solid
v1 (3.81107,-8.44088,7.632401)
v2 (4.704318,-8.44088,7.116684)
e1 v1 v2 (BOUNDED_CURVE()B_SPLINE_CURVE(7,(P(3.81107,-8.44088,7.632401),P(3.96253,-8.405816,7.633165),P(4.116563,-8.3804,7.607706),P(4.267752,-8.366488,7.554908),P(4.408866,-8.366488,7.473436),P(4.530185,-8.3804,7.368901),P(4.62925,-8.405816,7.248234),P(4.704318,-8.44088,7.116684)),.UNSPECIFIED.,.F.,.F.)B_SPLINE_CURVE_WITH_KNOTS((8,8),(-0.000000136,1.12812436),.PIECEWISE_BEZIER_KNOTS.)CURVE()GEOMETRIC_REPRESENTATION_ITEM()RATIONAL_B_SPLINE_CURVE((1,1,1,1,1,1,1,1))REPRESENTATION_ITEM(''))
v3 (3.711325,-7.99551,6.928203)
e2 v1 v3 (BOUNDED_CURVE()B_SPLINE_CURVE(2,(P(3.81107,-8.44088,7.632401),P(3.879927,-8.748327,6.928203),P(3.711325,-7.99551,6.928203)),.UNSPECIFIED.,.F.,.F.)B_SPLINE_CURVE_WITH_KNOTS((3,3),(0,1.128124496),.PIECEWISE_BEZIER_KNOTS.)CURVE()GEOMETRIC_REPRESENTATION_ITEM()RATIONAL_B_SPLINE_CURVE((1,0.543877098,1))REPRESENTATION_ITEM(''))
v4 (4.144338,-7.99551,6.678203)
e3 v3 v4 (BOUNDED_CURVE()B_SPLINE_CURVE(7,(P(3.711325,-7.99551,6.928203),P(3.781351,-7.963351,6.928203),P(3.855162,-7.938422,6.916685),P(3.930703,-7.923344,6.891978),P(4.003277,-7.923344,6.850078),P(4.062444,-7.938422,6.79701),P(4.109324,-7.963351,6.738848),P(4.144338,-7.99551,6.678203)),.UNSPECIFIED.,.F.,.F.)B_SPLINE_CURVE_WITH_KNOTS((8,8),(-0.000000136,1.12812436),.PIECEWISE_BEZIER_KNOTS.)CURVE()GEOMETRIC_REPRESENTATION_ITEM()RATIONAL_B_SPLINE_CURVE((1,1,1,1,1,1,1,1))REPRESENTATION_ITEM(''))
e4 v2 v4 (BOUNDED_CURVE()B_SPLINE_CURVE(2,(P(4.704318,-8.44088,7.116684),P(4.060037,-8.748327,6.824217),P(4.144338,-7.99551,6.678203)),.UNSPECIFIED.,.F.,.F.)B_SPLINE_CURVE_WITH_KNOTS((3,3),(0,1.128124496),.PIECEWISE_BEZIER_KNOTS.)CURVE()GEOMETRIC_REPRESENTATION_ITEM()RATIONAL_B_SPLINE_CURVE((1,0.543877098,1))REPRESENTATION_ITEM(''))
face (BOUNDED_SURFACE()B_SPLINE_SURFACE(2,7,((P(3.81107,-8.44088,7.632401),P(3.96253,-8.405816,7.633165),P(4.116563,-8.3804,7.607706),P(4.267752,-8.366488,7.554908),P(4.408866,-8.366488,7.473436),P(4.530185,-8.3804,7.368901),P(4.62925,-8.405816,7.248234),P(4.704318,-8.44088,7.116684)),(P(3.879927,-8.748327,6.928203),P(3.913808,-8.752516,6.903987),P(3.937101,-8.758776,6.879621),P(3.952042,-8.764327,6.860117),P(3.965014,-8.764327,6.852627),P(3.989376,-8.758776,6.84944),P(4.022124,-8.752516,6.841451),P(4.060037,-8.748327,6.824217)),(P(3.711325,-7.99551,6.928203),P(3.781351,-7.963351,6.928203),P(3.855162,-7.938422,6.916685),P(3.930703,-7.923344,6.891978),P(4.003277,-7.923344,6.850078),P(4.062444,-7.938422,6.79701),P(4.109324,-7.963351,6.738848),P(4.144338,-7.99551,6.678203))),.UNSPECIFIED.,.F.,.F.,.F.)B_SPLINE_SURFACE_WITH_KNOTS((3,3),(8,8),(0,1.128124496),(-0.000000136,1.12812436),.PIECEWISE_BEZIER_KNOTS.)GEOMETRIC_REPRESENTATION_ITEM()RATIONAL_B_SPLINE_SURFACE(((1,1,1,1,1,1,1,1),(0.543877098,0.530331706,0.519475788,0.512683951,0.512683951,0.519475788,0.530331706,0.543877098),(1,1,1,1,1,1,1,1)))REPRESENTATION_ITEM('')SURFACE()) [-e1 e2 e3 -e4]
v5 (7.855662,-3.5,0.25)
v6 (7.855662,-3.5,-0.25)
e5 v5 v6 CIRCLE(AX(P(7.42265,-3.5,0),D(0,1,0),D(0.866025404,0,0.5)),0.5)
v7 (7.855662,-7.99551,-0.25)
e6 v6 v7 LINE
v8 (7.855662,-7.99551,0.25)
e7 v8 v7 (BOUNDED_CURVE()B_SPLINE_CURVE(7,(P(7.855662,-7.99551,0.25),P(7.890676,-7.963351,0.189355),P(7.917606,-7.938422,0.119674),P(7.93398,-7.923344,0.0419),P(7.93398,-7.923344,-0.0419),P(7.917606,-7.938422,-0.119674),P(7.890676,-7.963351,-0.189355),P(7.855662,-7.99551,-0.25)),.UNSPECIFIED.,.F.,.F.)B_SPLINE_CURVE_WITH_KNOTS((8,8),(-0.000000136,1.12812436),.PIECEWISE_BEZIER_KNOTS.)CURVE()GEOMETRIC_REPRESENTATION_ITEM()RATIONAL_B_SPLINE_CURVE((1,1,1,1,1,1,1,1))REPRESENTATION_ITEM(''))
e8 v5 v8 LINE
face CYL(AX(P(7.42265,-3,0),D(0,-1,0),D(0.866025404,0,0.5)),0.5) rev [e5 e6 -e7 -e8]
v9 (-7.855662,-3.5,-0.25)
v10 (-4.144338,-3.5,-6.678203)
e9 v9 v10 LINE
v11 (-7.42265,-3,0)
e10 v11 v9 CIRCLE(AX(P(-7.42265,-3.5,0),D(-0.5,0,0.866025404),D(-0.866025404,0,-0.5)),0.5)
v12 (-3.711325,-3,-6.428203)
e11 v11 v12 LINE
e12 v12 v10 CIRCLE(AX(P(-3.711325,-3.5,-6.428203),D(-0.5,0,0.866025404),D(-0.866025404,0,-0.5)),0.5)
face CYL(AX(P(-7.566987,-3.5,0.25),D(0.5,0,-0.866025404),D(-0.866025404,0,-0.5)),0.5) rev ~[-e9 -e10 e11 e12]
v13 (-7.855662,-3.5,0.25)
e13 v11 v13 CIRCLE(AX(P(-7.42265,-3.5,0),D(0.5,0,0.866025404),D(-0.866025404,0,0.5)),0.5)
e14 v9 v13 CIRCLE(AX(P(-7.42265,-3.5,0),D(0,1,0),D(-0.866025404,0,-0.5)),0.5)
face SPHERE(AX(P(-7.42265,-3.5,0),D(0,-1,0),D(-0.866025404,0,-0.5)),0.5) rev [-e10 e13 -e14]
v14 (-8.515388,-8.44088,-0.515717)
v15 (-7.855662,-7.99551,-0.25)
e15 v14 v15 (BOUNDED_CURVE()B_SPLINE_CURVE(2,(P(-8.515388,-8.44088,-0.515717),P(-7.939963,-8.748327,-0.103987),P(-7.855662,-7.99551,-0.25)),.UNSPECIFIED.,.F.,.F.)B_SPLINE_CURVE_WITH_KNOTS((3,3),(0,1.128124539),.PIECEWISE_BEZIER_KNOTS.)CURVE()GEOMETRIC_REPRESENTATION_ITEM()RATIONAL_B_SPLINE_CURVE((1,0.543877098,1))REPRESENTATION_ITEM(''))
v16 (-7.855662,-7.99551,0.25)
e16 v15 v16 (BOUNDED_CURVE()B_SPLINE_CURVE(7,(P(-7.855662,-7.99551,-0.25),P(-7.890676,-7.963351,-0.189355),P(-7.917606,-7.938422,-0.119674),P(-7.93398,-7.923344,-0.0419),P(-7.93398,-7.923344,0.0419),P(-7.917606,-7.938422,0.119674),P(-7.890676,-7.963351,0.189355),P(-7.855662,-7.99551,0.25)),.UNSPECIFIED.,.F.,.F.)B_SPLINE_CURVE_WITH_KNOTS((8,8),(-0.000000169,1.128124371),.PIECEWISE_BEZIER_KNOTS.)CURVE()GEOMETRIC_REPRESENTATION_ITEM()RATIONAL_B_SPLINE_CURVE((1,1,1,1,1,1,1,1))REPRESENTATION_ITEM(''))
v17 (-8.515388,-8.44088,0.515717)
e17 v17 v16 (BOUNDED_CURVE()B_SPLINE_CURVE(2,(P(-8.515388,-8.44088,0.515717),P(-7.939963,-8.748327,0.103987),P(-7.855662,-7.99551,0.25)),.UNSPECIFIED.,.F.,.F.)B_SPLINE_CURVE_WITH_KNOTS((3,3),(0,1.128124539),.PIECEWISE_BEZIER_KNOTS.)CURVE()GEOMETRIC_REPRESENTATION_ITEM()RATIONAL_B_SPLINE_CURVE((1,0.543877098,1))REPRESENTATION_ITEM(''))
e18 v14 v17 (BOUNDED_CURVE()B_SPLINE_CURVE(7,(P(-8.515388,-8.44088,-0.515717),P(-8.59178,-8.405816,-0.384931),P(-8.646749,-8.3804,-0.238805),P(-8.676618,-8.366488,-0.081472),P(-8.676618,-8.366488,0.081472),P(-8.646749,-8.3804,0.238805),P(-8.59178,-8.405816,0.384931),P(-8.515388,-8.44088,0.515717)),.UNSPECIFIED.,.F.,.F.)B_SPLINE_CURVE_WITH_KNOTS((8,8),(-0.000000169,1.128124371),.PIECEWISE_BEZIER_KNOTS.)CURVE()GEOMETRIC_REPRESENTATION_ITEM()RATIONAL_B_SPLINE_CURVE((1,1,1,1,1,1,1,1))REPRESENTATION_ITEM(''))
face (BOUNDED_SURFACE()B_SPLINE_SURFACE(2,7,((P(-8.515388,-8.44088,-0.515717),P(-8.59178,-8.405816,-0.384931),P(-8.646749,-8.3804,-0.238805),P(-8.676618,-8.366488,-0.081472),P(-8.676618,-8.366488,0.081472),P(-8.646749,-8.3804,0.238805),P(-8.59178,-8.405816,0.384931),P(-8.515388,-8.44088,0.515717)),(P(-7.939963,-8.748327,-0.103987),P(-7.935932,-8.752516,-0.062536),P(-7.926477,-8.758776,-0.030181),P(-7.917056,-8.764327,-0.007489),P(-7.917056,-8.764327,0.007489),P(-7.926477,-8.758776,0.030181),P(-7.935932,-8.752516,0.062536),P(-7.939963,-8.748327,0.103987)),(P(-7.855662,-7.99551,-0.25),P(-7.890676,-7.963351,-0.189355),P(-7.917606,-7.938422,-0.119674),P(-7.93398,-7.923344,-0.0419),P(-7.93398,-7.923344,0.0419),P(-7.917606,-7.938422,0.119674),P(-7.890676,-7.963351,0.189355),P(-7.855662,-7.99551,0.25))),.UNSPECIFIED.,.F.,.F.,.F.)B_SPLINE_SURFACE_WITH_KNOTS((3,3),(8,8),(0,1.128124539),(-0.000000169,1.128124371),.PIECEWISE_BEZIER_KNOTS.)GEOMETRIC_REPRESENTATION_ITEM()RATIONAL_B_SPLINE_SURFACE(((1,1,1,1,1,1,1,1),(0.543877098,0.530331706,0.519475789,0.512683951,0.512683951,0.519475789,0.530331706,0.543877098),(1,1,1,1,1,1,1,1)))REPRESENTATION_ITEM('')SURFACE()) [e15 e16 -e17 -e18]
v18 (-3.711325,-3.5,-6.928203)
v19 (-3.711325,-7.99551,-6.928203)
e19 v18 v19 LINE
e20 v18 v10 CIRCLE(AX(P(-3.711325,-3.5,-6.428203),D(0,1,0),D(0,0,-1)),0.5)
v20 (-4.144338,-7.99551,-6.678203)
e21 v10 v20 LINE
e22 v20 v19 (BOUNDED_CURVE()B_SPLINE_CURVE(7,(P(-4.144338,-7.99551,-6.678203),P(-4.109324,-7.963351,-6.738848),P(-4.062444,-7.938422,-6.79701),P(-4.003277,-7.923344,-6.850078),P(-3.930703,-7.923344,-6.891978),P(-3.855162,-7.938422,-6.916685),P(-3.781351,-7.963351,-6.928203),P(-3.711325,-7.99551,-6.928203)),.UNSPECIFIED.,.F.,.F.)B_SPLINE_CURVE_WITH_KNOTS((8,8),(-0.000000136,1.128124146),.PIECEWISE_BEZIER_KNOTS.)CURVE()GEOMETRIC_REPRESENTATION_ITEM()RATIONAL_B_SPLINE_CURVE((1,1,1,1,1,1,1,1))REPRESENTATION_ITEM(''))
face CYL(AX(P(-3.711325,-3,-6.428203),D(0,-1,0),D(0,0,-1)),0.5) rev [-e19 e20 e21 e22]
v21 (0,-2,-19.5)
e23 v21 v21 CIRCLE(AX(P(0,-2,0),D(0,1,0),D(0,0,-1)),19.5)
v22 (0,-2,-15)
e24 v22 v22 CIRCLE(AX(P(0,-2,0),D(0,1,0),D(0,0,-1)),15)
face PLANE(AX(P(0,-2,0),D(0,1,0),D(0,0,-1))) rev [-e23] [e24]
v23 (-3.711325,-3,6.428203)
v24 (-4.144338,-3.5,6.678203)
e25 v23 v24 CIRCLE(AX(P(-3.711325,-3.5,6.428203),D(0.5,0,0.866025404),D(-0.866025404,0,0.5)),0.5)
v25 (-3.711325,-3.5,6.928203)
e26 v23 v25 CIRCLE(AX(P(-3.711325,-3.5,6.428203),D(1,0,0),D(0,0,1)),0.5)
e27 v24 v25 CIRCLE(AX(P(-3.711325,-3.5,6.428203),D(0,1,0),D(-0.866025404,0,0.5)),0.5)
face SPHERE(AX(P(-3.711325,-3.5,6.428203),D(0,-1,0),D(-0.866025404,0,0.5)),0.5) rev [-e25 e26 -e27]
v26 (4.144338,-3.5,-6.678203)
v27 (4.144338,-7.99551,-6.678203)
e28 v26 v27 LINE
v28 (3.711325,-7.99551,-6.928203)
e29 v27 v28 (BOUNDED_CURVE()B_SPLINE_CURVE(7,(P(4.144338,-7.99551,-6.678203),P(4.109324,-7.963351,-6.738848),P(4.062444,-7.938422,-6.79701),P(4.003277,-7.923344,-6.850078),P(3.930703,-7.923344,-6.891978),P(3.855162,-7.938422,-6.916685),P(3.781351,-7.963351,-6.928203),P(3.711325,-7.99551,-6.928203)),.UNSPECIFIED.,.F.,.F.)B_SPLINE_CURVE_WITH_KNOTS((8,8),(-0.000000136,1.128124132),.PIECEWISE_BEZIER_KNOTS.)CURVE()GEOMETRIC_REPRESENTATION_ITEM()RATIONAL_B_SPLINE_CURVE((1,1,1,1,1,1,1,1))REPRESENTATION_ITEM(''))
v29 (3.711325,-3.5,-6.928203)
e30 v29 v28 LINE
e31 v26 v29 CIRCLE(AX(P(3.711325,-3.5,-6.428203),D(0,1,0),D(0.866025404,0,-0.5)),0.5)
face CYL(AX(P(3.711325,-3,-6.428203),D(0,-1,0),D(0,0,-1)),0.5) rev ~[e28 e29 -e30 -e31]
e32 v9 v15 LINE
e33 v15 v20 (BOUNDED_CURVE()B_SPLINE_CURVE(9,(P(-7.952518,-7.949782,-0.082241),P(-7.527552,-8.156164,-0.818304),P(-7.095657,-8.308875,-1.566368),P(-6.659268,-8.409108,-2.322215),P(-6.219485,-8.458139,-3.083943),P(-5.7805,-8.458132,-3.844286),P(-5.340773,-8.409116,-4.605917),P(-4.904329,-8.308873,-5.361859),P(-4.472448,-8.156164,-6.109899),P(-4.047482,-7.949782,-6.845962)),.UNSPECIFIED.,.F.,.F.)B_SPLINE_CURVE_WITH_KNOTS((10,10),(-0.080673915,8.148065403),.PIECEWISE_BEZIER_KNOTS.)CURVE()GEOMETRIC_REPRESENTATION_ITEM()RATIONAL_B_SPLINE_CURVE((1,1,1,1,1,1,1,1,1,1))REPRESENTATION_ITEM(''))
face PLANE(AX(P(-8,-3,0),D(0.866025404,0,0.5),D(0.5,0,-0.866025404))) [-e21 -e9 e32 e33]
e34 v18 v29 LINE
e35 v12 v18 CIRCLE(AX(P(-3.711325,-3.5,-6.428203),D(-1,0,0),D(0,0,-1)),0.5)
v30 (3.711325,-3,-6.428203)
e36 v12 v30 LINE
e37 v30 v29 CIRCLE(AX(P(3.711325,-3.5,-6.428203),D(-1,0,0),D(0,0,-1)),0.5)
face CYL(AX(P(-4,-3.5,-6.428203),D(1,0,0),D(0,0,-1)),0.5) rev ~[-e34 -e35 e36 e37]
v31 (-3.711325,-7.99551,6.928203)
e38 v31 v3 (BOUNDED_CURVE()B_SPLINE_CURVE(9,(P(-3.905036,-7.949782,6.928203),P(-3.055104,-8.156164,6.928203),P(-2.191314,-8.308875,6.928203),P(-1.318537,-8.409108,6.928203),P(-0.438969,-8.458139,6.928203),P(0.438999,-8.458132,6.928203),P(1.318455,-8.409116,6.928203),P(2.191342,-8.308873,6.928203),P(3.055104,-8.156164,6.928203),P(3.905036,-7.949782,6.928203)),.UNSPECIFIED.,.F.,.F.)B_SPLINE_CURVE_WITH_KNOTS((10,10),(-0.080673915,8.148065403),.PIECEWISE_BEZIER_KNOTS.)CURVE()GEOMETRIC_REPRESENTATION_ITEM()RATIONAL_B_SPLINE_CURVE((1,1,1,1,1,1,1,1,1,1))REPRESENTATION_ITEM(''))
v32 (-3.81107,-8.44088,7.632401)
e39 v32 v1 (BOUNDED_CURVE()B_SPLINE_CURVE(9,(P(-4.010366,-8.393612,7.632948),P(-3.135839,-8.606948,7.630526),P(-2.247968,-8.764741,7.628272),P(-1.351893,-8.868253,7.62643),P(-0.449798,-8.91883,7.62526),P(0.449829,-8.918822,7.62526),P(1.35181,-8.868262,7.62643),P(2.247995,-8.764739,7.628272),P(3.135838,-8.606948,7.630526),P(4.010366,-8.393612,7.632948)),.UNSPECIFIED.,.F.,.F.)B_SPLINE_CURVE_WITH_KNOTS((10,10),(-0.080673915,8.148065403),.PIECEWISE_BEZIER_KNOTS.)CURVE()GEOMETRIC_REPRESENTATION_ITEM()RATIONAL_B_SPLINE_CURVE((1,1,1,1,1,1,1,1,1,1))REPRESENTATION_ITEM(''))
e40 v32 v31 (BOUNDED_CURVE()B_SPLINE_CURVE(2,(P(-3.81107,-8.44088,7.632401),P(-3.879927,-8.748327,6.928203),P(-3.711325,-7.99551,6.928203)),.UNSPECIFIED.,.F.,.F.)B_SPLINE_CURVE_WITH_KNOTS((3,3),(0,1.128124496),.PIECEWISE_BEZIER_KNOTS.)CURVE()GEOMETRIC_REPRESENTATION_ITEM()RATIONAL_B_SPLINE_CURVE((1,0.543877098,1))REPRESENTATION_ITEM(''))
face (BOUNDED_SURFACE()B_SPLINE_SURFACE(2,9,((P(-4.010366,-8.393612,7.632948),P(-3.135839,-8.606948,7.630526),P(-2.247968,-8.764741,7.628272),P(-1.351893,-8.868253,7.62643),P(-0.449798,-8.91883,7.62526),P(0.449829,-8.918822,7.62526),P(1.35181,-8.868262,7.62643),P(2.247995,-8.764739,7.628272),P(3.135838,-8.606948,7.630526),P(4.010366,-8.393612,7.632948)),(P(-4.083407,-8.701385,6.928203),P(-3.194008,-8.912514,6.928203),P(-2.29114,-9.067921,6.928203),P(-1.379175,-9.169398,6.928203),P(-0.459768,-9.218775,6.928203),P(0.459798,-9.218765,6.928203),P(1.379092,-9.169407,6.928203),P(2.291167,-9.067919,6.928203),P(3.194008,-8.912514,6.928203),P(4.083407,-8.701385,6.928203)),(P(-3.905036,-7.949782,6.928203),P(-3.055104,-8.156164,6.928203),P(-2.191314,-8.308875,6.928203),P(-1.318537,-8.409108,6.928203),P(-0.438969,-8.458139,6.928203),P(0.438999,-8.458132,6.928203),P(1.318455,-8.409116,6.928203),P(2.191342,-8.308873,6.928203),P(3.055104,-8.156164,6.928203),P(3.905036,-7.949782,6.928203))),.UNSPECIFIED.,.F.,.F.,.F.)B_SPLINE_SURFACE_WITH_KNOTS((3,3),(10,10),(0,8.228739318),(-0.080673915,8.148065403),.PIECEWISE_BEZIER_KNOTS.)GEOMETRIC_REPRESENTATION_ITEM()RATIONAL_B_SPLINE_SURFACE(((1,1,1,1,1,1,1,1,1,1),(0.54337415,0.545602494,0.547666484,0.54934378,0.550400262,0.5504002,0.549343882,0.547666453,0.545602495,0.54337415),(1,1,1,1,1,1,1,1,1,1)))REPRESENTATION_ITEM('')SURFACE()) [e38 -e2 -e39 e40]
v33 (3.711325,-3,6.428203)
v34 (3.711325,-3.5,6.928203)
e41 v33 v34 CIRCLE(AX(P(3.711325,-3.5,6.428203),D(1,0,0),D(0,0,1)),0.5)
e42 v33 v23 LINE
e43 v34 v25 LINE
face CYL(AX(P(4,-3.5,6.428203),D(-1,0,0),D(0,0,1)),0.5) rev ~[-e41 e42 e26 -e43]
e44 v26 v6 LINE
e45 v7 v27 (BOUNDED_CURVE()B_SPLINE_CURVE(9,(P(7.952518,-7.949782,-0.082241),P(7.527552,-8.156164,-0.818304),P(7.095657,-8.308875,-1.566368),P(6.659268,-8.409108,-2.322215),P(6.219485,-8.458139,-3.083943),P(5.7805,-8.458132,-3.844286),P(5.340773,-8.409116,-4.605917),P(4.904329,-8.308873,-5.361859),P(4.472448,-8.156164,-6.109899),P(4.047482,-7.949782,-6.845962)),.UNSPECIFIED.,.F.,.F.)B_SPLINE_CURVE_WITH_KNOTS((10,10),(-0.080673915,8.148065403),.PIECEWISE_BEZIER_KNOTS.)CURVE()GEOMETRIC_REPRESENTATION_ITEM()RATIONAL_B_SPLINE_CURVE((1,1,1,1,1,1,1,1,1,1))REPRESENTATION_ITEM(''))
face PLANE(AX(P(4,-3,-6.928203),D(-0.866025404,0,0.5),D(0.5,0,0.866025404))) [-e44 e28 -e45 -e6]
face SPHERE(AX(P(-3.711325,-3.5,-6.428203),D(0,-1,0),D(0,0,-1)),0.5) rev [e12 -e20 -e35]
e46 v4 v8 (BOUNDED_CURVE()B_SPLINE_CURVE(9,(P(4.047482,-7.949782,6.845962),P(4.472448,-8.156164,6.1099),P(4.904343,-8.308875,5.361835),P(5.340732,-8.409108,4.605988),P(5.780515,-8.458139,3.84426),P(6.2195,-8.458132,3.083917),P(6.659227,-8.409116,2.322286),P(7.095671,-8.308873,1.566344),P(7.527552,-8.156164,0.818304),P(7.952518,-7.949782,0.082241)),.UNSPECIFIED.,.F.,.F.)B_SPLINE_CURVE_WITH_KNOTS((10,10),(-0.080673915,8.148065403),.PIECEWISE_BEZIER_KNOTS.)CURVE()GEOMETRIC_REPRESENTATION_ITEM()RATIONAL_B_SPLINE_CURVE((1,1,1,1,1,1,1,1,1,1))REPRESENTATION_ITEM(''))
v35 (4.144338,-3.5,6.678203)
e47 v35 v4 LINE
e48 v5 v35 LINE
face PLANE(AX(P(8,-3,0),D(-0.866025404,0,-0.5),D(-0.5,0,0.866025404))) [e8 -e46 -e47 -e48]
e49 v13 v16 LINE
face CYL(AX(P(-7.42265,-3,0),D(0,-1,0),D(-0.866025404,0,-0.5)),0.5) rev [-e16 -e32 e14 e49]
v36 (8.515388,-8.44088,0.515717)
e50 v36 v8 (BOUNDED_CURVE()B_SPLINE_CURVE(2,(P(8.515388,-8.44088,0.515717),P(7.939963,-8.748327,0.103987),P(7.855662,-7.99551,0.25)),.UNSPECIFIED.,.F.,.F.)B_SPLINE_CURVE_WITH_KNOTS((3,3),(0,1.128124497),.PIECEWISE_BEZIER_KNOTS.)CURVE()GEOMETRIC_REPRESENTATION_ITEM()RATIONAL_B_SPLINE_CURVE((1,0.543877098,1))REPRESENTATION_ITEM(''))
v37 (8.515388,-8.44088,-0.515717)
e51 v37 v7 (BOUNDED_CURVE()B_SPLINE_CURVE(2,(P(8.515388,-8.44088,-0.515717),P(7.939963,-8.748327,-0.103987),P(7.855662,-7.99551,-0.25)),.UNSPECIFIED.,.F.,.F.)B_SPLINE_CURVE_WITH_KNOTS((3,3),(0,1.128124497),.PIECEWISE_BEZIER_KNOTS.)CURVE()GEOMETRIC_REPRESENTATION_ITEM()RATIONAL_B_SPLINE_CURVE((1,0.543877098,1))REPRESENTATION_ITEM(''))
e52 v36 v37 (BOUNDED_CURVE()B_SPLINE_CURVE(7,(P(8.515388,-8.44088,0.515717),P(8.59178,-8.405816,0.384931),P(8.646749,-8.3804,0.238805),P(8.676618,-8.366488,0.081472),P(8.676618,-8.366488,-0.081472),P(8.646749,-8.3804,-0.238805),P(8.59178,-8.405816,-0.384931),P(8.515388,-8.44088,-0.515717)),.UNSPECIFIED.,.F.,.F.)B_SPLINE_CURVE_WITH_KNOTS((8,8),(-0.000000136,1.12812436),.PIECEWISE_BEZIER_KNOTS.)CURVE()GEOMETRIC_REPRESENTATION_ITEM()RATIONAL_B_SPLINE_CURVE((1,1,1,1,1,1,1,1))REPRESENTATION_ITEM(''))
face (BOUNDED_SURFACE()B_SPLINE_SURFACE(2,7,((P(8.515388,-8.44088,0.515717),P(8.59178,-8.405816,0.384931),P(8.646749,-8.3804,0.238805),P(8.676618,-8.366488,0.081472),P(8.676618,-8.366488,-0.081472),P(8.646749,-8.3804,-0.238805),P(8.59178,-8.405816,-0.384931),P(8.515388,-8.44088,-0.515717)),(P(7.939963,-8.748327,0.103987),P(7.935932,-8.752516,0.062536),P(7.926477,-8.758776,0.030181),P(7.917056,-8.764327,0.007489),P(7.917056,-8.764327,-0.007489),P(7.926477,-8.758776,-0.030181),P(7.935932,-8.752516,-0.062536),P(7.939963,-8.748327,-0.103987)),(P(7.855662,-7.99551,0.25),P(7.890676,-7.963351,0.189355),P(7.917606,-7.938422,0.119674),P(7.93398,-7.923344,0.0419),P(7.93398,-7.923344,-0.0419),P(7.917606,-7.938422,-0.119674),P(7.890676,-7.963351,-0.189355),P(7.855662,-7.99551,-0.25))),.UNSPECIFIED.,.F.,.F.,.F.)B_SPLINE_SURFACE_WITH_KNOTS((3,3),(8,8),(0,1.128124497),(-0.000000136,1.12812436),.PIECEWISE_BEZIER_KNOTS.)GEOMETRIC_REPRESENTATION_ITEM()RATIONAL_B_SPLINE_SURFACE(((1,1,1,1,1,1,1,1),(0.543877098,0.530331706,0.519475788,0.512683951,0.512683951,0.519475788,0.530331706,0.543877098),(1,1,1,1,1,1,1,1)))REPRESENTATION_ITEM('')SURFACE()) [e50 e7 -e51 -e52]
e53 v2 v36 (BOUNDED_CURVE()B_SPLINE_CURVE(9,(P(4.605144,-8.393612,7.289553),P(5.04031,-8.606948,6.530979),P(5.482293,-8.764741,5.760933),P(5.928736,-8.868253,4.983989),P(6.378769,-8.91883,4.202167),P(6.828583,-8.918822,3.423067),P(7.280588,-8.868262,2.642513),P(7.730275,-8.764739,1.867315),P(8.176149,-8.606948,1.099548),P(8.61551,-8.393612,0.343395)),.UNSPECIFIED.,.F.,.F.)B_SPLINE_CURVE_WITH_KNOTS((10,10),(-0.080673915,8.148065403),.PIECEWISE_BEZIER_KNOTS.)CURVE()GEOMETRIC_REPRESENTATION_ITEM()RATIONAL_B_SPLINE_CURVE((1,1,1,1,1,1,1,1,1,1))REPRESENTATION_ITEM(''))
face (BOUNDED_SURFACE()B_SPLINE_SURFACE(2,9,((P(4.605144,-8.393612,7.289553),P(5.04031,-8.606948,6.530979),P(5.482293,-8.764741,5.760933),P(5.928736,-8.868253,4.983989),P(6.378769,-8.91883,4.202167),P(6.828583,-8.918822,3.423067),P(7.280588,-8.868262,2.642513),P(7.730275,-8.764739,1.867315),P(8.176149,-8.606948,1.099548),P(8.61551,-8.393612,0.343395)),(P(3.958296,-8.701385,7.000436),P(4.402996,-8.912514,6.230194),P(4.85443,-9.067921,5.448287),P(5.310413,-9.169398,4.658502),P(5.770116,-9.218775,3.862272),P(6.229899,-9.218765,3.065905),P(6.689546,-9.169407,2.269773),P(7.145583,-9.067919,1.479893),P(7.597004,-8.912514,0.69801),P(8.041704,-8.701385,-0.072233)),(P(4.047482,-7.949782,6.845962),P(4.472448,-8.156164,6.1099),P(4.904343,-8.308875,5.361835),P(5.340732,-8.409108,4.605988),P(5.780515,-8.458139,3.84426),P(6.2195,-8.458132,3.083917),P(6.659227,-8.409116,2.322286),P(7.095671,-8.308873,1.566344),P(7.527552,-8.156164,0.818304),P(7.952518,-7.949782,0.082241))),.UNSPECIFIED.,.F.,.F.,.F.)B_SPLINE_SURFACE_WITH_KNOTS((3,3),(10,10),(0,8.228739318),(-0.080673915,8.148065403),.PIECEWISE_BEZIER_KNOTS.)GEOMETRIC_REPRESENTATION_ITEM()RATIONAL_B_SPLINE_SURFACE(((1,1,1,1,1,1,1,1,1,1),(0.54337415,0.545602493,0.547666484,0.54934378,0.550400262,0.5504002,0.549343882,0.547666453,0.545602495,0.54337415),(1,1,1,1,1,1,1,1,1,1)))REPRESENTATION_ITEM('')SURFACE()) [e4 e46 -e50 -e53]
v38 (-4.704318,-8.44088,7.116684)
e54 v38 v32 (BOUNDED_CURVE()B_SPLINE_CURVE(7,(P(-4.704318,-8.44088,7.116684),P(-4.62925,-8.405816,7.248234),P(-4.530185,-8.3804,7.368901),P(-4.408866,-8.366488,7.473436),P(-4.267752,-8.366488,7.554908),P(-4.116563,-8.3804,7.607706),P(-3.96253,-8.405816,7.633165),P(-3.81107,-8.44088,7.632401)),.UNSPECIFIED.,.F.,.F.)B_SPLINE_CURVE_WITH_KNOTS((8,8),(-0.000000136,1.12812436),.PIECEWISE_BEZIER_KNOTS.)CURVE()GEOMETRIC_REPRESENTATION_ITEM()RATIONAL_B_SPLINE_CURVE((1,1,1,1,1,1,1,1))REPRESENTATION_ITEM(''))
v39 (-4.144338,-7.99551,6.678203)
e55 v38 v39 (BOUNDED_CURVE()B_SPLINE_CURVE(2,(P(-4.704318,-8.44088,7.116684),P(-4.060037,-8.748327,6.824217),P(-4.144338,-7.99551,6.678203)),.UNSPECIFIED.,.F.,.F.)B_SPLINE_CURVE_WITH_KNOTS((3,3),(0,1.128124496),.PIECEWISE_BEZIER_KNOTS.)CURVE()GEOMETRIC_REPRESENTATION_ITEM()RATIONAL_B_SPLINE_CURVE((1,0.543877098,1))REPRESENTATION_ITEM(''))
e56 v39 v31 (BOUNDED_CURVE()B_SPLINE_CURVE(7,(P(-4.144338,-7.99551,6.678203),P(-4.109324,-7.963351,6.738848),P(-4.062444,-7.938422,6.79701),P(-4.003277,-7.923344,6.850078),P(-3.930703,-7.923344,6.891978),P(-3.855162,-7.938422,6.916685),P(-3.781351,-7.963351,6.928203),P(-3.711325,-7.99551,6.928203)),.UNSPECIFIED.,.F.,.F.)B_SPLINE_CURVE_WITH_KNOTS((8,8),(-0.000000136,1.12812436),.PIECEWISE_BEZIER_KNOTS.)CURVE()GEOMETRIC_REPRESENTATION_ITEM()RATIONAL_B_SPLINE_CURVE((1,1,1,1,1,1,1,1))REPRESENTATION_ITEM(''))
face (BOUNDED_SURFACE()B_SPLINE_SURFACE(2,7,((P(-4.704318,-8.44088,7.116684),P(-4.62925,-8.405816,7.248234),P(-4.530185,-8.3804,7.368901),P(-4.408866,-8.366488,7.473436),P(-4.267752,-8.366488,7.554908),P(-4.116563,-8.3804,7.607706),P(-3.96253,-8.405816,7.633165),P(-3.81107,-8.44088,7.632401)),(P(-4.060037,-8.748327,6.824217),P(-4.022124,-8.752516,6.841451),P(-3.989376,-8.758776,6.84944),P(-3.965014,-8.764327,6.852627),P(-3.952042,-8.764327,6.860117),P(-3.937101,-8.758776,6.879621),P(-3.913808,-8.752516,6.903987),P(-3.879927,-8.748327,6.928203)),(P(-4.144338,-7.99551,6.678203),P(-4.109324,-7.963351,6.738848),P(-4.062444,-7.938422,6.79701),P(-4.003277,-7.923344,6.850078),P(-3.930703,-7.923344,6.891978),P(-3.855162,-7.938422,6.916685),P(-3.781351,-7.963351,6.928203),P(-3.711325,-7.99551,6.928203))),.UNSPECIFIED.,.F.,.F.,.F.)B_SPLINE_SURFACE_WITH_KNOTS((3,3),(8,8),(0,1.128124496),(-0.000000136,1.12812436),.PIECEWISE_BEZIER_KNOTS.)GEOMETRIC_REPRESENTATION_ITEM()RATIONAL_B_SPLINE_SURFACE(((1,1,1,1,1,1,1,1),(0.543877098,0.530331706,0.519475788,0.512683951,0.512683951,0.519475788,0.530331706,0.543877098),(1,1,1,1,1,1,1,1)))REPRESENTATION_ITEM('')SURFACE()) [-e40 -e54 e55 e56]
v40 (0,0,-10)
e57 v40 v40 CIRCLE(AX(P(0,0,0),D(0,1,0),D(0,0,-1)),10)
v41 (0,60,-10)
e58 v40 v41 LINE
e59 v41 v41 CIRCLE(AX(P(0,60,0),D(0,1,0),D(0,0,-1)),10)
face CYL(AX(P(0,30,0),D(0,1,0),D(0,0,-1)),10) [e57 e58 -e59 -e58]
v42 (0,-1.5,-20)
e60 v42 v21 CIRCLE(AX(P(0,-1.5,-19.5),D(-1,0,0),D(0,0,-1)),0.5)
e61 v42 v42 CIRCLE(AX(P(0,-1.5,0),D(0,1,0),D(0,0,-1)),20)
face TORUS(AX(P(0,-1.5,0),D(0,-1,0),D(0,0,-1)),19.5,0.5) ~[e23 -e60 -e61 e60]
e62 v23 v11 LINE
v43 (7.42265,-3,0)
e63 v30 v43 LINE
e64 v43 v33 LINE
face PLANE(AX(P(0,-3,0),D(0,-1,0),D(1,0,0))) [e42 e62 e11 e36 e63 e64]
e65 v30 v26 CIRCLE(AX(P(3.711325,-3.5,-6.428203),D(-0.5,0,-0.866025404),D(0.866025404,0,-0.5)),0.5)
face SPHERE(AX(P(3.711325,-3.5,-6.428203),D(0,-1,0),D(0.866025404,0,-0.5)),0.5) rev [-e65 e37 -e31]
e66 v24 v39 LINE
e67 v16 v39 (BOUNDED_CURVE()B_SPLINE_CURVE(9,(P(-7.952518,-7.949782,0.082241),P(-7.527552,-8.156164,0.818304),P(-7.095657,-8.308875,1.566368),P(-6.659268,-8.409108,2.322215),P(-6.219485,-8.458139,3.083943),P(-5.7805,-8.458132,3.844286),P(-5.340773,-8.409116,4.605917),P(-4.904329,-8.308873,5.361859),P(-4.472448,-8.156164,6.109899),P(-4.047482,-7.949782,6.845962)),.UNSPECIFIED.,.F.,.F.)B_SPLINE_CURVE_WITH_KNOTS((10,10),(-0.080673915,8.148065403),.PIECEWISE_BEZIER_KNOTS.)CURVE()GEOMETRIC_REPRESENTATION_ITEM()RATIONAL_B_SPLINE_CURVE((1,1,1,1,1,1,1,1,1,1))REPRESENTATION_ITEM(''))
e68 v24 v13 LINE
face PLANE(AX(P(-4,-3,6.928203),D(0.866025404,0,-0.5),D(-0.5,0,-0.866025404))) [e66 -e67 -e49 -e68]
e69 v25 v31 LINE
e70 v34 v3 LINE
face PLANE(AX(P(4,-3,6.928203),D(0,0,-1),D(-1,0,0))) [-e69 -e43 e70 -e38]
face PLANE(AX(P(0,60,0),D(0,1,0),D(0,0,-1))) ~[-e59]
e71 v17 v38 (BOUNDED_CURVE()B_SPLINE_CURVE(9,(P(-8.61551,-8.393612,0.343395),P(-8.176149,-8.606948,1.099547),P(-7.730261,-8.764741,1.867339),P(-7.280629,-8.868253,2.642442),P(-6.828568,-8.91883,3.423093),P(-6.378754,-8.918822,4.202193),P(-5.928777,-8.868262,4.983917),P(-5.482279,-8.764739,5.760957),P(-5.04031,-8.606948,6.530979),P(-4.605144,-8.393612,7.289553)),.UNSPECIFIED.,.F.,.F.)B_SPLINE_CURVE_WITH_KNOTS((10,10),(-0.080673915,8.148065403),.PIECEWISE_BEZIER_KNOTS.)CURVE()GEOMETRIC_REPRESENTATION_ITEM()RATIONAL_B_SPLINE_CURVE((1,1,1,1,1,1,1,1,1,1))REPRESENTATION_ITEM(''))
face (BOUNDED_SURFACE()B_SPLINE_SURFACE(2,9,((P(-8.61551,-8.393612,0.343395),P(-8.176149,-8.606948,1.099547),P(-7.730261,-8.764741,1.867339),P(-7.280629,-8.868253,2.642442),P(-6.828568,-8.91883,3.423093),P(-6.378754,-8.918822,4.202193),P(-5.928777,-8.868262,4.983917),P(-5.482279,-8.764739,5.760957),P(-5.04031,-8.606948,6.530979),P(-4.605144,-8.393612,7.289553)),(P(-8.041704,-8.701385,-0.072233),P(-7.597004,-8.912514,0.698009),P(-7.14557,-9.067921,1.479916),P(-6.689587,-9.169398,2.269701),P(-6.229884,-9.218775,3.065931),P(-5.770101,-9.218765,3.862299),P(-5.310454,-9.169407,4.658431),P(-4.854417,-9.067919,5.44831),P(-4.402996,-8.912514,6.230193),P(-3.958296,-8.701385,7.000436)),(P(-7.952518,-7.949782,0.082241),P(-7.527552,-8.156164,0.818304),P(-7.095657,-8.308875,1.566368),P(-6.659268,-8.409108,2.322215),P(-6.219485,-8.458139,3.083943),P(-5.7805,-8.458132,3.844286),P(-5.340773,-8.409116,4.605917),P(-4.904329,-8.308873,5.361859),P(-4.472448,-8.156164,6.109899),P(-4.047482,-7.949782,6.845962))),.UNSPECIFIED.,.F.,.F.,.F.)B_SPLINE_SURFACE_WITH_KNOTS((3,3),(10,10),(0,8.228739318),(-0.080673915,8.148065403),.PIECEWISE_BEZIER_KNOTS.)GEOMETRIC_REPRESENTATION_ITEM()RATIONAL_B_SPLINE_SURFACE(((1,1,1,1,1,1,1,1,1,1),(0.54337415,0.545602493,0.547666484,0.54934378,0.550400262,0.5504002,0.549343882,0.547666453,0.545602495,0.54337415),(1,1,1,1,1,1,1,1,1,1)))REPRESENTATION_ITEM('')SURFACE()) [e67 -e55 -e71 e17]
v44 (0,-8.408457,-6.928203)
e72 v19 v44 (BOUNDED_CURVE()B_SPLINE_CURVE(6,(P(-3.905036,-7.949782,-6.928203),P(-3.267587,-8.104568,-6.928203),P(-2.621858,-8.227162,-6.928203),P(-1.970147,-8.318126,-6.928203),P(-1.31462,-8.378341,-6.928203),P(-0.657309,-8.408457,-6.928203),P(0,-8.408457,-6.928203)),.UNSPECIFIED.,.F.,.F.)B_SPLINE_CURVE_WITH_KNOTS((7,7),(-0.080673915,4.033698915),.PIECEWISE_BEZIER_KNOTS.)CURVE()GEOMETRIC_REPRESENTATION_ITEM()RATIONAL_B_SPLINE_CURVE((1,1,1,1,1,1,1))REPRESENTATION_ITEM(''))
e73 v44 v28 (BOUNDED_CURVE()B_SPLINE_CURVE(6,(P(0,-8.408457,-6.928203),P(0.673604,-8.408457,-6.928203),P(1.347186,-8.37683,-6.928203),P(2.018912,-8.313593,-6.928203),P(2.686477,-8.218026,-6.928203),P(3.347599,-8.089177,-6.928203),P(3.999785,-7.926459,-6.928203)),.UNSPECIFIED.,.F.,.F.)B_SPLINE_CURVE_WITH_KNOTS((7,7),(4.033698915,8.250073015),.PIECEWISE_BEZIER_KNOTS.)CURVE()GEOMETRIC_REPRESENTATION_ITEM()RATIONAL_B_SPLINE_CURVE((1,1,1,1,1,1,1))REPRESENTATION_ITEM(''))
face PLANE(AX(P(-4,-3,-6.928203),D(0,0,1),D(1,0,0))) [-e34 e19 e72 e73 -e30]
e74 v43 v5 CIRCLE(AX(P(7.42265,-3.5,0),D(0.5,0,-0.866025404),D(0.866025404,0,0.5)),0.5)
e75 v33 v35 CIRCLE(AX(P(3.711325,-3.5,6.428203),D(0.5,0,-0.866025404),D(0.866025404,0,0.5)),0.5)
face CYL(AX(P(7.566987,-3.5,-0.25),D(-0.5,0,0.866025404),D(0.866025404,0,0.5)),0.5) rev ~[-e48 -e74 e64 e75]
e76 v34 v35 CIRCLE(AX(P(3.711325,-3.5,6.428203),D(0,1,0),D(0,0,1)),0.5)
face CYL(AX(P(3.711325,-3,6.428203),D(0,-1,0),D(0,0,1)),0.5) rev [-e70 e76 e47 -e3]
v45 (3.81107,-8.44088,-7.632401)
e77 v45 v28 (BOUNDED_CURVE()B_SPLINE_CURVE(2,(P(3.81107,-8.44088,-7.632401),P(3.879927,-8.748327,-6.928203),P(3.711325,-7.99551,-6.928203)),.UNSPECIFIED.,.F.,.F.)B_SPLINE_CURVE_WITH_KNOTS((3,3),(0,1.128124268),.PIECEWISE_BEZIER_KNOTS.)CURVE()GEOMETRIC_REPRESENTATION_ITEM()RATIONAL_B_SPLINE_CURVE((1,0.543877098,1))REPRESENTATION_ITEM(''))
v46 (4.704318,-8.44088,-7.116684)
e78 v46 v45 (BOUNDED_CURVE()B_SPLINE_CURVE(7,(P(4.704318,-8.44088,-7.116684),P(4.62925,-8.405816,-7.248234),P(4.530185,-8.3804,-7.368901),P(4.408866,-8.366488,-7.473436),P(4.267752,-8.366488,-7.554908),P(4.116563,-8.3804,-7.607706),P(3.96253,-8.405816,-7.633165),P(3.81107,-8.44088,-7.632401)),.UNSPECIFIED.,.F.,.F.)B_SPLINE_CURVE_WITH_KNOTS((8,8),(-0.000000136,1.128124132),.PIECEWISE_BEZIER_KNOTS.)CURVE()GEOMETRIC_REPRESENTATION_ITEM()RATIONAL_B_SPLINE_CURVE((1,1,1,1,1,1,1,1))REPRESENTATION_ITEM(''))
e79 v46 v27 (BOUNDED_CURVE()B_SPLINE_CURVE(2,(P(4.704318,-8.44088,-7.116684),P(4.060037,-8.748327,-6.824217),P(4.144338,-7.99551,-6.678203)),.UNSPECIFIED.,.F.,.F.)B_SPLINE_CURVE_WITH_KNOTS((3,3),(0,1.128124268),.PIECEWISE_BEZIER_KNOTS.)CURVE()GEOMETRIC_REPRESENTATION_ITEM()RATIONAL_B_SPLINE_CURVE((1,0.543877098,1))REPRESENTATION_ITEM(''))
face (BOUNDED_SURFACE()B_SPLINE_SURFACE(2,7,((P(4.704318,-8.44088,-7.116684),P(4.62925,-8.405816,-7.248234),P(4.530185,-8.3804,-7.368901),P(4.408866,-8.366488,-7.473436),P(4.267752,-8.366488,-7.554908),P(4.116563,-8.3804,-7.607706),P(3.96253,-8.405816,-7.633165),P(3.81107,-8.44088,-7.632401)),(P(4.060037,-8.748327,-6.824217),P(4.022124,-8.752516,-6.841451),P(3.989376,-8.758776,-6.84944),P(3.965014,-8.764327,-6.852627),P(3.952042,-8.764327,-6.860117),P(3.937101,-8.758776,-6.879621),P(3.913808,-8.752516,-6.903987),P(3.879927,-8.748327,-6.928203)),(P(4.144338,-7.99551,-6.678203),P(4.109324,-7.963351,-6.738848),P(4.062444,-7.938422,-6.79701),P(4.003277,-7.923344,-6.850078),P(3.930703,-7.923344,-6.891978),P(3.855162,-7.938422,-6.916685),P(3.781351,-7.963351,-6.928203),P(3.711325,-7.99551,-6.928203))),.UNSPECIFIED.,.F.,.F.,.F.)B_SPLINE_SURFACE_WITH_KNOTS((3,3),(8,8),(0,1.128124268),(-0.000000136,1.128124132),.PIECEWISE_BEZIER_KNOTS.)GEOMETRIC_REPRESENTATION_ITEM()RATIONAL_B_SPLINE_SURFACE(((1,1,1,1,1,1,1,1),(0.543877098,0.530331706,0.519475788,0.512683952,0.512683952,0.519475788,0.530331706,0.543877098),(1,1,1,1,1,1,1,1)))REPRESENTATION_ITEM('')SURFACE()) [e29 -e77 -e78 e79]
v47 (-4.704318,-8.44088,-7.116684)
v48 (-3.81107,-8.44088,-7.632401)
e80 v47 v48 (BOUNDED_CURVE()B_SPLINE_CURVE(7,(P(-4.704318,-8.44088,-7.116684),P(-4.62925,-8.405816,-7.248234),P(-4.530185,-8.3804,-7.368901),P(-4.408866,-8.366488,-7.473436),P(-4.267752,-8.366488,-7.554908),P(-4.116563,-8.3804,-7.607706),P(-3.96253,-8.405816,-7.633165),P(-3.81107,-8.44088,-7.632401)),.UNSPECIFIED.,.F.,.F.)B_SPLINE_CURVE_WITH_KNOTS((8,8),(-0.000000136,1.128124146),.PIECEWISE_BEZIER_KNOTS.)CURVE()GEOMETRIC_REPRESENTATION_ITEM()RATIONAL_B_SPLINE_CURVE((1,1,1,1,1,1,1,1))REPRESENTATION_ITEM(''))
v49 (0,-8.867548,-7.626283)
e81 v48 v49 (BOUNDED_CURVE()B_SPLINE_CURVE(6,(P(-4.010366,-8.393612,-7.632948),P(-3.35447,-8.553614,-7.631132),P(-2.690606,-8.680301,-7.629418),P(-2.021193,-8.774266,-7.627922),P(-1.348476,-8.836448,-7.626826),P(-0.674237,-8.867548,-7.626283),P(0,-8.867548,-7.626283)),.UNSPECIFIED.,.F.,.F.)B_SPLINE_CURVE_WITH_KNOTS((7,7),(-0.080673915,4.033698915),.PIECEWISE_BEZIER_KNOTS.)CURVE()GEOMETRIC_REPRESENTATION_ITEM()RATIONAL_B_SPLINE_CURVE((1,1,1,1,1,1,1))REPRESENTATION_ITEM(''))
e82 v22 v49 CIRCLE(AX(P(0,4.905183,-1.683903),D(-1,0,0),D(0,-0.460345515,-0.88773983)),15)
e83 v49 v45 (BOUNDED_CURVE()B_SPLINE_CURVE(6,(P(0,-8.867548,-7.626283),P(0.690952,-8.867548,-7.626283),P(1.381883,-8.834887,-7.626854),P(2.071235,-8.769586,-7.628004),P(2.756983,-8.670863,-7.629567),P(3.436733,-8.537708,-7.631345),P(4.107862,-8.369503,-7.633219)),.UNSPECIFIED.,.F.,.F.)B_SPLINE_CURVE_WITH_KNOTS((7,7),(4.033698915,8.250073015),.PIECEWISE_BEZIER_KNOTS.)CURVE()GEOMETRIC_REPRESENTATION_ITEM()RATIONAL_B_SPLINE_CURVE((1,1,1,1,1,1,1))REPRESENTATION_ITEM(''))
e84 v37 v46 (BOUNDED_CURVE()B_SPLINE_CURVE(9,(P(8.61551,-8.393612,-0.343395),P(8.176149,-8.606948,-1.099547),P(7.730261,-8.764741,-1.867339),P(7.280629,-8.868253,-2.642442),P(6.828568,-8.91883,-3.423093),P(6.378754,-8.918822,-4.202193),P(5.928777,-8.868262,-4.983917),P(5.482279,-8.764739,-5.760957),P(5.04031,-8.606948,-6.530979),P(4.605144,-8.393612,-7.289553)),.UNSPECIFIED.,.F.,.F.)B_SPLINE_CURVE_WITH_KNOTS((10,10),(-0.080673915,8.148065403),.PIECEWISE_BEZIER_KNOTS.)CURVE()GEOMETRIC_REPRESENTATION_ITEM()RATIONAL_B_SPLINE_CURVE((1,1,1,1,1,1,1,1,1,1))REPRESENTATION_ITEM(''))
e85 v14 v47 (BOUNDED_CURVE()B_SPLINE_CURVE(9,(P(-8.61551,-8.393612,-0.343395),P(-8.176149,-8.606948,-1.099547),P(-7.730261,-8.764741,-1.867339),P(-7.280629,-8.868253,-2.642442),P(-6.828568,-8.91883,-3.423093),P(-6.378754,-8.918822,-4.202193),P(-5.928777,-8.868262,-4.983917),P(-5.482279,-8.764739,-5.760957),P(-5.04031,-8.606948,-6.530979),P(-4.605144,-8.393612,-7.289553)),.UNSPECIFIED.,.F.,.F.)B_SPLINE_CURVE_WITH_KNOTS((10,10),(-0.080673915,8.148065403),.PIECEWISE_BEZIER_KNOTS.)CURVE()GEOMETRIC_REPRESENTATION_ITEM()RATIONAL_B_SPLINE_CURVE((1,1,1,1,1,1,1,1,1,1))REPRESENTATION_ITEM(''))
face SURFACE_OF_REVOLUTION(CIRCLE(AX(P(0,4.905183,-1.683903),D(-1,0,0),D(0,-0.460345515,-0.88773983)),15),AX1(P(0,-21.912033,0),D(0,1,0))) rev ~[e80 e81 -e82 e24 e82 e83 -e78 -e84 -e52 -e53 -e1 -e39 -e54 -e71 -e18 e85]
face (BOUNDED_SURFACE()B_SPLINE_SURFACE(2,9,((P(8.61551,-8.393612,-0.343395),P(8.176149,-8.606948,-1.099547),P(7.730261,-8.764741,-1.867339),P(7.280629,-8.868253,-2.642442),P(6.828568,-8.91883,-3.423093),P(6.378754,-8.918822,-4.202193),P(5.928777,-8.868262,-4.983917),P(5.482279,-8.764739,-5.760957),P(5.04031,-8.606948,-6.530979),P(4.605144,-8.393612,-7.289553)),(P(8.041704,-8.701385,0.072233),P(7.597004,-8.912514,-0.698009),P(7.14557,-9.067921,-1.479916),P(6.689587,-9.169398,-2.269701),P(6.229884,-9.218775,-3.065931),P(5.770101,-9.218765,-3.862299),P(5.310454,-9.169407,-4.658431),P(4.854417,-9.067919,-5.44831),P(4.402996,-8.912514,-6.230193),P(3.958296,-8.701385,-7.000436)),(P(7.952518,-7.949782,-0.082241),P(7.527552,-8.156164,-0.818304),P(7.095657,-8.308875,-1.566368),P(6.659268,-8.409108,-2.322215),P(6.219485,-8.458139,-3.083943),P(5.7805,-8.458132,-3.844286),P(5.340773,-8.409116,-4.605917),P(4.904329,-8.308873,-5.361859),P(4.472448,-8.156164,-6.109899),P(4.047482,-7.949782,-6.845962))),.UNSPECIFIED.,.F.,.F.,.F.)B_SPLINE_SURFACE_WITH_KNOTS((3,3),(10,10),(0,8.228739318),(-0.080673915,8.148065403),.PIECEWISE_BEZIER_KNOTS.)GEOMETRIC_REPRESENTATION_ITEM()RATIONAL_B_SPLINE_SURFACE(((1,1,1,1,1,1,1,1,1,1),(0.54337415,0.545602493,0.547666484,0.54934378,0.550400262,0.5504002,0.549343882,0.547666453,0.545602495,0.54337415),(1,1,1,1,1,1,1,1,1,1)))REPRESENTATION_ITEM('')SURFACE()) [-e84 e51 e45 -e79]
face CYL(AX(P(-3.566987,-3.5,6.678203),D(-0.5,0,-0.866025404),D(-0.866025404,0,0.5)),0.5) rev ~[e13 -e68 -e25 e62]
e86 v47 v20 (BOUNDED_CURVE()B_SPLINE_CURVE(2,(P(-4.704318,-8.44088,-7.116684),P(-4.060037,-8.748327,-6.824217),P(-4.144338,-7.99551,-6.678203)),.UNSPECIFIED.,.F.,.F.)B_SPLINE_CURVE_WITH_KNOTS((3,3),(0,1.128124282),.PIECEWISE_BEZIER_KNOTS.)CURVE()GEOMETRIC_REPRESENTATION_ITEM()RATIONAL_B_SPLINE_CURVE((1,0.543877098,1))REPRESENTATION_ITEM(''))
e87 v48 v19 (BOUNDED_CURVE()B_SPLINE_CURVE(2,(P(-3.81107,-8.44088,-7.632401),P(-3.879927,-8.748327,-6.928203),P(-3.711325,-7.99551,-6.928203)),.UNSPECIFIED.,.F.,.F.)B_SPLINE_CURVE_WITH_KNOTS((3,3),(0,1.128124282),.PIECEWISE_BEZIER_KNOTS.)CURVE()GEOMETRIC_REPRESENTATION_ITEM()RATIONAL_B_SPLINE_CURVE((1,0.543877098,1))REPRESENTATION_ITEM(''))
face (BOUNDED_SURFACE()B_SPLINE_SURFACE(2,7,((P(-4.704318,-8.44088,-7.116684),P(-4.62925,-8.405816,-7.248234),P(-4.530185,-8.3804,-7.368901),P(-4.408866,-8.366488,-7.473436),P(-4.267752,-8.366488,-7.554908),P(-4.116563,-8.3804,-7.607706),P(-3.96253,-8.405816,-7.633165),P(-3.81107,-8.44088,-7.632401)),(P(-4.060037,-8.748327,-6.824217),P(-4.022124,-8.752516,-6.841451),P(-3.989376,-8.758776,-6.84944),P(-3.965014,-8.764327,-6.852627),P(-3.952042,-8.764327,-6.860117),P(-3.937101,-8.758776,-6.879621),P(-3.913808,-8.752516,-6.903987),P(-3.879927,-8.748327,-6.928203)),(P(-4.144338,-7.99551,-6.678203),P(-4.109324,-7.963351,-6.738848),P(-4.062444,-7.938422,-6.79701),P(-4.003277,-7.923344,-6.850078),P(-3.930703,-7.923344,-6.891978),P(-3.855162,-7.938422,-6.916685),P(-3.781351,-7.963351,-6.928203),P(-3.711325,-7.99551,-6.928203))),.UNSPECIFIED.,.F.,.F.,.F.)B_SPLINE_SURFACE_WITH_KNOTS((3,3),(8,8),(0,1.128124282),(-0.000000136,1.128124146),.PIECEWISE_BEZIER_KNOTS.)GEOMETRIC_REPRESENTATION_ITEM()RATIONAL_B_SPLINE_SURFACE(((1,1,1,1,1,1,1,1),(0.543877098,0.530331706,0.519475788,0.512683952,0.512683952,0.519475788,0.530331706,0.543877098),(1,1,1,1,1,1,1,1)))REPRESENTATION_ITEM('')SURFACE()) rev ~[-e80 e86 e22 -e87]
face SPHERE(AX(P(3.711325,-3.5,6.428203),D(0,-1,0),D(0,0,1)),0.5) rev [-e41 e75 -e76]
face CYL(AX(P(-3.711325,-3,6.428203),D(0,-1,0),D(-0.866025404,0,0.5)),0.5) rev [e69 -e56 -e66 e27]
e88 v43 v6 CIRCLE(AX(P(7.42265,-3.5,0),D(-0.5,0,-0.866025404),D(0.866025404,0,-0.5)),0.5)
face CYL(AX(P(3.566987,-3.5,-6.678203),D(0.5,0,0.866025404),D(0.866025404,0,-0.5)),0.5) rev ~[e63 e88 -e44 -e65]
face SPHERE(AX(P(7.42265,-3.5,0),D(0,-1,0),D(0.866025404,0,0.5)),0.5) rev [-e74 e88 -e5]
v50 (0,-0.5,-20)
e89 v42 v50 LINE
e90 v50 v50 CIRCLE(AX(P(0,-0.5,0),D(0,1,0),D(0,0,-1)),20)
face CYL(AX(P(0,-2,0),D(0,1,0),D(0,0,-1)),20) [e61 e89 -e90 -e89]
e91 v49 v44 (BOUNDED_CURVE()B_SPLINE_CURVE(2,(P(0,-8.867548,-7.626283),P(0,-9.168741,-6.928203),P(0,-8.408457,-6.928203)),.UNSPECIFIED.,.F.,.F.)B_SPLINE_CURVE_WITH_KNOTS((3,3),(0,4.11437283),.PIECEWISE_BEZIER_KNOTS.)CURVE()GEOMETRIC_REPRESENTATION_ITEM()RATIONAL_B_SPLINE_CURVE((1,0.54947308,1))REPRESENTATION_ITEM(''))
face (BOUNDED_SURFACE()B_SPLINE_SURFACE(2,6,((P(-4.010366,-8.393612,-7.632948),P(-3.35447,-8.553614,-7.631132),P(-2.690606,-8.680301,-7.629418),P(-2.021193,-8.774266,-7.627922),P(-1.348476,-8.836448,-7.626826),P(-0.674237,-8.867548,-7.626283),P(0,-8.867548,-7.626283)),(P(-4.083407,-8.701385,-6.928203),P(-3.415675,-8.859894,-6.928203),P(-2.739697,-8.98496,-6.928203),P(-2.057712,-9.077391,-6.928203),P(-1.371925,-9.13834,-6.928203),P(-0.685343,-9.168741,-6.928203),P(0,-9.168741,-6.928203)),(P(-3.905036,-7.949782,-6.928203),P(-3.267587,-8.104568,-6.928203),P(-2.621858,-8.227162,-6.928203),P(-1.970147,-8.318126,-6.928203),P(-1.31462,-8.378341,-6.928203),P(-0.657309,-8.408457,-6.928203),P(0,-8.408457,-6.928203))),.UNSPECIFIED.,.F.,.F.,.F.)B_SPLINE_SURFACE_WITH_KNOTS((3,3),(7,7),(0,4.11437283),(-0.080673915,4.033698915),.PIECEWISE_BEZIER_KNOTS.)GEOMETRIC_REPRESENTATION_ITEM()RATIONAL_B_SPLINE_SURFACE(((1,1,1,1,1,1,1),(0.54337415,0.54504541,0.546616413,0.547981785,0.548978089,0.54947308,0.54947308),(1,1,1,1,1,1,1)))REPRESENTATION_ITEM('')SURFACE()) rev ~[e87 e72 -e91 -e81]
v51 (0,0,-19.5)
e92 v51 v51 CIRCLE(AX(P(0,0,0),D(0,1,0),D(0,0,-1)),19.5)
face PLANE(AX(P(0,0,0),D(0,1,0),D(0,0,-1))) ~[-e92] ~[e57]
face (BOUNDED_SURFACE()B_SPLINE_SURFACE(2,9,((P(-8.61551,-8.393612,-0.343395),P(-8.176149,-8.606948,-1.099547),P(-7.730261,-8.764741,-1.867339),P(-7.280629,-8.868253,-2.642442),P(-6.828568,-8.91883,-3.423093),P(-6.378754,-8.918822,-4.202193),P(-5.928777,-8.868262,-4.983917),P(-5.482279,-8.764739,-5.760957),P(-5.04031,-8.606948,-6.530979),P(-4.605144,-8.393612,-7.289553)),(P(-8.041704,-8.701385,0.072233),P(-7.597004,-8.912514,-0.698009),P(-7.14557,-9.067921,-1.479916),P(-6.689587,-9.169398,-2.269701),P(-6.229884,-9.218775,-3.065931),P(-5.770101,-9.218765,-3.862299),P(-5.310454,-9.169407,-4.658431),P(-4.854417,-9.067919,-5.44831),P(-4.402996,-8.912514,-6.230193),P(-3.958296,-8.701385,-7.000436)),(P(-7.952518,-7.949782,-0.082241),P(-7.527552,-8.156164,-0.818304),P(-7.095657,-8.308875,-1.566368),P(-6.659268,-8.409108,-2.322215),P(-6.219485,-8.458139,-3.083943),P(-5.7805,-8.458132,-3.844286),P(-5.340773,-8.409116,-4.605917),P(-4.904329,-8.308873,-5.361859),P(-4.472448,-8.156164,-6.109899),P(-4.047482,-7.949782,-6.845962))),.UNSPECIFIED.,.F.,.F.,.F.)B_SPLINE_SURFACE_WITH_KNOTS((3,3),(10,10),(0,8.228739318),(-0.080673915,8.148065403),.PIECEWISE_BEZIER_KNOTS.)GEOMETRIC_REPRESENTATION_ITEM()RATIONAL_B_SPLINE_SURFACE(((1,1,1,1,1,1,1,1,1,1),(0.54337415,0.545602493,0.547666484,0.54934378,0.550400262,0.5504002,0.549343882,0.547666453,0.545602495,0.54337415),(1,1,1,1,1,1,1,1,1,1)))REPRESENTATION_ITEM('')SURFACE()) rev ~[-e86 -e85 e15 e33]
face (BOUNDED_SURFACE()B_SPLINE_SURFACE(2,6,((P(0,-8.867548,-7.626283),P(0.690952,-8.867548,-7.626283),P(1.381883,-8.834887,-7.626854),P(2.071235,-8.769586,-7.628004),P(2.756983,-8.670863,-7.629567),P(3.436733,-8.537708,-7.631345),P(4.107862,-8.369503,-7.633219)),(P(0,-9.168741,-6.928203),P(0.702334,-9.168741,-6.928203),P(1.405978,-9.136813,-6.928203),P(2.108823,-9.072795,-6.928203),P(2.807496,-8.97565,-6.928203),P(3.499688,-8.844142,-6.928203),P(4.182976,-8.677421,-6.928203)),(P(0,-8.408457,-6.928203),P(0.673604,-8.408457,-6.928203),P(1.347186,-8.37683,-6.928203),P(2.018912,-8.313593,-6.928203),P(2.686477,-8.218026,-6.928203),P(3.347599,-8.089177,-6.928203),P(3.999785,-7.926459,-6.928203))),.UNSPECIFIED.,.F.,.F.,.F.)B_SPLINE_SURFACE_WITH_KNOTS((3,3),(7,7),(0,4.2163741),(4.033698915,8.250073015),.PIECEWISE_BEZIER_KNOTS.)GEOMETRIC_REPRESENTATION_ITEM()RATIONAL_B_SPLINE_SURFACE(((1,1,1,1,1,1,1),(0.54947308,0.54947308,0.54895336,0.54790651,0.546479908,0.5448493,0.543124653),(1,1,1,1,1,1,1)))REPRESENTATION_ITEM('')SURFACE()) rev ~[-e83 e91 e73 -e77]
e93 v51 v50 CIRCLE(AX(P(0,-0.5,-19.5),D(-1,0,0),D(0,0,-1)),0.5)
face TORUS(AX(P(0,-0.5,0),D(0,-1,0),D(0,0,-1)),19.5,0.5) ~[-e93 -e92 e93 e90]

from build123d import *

# Parameters (mm, degrees)
SKETCH1_W          = 60
SKETCH1_H          = 10
CUT_EXTRUDE1_START = 1
CUT_EXTRUDE1_DEPTH = 10
FILLET1_R          = 0.5


with BuildPart() as part:
    # Sketch1 → Revolve1 (revolve)
    with BuildSketch(Plane.YZ, mode=Mode.PRIVATE) as revolve1_sk:
        with BuildLine():
            Line((-10, 0), (-2, 0))
            Line((-2, 0), (-2, 15))
            ThreePointArc((-2, 15), (-8.330111387, 8.742726073), (-10, 0))
        make_face()
        Polygon((0, 20), (0, 10), (0, 0), (-2, 0), (-2, 20), align=None)
        with Locations((30, 5)):
            Rectangle(SKETCH1_W, SKETCH1_H)
    revolve(revolve1_sk.sketch.rotate(Axis((0, -21.912032937, 0), (0, 1, 0)), 180), axis=Axis((0, -21.912032937, 0), (0, 1, 0)))

    # Sketch2 → Cut-Extrude1 (cut)
    with BuildSketch(Plane.XZ.offset(2).offset(CUT_EXTRUDE1_START)):
        Polygon((4, -6.92820323), (8, 0), (4, 6.92820323), (-4, 6.92820323), (-8, 0), (-4, -6.92820323), align=None)
    extrude(amount=CUT_EXTRUDE1_DEPTH, mode=Mode.SUBTRACT)

    # Fillet1
    fillet1_edges = [part.edges().sort_by_distance(p)[0] for p in [
        (-6, -9.148190897, -3.464101615),
        (-6, -9.148190897, 3.464101615),
        (0, -9.148190897, 6.92820323),
        (6, -9.148190897, 3.464101615),
        (6, -9.148190897, -3.464101615),
        (-2.012812506, -9.037939191, -6.92820323),
        (-4, -5.850108704, -6.92820323),
        (0, -3, -6.92820323),
        (4, -5.850108704, -6.92820323),
        (6, -3, -3.464101615),
        (8, -5.850108704, 0),
        (6, -3, 3.464101615),
        (4, -5.850108704, 6.92820323),
        (0, -3, 6.92820323),
        (-4, -5.850108704, 6.92820323),
        (-6, -3, 3.464101615),
        (-8, -5.850108704, 0),
        (-6, -3, -3.464101615),
        (0, -2, 20),
        (0, 0, 20),
    ]]
    fillet(fillet1_edges, radius=FILLET1_R)


solid = part.part
